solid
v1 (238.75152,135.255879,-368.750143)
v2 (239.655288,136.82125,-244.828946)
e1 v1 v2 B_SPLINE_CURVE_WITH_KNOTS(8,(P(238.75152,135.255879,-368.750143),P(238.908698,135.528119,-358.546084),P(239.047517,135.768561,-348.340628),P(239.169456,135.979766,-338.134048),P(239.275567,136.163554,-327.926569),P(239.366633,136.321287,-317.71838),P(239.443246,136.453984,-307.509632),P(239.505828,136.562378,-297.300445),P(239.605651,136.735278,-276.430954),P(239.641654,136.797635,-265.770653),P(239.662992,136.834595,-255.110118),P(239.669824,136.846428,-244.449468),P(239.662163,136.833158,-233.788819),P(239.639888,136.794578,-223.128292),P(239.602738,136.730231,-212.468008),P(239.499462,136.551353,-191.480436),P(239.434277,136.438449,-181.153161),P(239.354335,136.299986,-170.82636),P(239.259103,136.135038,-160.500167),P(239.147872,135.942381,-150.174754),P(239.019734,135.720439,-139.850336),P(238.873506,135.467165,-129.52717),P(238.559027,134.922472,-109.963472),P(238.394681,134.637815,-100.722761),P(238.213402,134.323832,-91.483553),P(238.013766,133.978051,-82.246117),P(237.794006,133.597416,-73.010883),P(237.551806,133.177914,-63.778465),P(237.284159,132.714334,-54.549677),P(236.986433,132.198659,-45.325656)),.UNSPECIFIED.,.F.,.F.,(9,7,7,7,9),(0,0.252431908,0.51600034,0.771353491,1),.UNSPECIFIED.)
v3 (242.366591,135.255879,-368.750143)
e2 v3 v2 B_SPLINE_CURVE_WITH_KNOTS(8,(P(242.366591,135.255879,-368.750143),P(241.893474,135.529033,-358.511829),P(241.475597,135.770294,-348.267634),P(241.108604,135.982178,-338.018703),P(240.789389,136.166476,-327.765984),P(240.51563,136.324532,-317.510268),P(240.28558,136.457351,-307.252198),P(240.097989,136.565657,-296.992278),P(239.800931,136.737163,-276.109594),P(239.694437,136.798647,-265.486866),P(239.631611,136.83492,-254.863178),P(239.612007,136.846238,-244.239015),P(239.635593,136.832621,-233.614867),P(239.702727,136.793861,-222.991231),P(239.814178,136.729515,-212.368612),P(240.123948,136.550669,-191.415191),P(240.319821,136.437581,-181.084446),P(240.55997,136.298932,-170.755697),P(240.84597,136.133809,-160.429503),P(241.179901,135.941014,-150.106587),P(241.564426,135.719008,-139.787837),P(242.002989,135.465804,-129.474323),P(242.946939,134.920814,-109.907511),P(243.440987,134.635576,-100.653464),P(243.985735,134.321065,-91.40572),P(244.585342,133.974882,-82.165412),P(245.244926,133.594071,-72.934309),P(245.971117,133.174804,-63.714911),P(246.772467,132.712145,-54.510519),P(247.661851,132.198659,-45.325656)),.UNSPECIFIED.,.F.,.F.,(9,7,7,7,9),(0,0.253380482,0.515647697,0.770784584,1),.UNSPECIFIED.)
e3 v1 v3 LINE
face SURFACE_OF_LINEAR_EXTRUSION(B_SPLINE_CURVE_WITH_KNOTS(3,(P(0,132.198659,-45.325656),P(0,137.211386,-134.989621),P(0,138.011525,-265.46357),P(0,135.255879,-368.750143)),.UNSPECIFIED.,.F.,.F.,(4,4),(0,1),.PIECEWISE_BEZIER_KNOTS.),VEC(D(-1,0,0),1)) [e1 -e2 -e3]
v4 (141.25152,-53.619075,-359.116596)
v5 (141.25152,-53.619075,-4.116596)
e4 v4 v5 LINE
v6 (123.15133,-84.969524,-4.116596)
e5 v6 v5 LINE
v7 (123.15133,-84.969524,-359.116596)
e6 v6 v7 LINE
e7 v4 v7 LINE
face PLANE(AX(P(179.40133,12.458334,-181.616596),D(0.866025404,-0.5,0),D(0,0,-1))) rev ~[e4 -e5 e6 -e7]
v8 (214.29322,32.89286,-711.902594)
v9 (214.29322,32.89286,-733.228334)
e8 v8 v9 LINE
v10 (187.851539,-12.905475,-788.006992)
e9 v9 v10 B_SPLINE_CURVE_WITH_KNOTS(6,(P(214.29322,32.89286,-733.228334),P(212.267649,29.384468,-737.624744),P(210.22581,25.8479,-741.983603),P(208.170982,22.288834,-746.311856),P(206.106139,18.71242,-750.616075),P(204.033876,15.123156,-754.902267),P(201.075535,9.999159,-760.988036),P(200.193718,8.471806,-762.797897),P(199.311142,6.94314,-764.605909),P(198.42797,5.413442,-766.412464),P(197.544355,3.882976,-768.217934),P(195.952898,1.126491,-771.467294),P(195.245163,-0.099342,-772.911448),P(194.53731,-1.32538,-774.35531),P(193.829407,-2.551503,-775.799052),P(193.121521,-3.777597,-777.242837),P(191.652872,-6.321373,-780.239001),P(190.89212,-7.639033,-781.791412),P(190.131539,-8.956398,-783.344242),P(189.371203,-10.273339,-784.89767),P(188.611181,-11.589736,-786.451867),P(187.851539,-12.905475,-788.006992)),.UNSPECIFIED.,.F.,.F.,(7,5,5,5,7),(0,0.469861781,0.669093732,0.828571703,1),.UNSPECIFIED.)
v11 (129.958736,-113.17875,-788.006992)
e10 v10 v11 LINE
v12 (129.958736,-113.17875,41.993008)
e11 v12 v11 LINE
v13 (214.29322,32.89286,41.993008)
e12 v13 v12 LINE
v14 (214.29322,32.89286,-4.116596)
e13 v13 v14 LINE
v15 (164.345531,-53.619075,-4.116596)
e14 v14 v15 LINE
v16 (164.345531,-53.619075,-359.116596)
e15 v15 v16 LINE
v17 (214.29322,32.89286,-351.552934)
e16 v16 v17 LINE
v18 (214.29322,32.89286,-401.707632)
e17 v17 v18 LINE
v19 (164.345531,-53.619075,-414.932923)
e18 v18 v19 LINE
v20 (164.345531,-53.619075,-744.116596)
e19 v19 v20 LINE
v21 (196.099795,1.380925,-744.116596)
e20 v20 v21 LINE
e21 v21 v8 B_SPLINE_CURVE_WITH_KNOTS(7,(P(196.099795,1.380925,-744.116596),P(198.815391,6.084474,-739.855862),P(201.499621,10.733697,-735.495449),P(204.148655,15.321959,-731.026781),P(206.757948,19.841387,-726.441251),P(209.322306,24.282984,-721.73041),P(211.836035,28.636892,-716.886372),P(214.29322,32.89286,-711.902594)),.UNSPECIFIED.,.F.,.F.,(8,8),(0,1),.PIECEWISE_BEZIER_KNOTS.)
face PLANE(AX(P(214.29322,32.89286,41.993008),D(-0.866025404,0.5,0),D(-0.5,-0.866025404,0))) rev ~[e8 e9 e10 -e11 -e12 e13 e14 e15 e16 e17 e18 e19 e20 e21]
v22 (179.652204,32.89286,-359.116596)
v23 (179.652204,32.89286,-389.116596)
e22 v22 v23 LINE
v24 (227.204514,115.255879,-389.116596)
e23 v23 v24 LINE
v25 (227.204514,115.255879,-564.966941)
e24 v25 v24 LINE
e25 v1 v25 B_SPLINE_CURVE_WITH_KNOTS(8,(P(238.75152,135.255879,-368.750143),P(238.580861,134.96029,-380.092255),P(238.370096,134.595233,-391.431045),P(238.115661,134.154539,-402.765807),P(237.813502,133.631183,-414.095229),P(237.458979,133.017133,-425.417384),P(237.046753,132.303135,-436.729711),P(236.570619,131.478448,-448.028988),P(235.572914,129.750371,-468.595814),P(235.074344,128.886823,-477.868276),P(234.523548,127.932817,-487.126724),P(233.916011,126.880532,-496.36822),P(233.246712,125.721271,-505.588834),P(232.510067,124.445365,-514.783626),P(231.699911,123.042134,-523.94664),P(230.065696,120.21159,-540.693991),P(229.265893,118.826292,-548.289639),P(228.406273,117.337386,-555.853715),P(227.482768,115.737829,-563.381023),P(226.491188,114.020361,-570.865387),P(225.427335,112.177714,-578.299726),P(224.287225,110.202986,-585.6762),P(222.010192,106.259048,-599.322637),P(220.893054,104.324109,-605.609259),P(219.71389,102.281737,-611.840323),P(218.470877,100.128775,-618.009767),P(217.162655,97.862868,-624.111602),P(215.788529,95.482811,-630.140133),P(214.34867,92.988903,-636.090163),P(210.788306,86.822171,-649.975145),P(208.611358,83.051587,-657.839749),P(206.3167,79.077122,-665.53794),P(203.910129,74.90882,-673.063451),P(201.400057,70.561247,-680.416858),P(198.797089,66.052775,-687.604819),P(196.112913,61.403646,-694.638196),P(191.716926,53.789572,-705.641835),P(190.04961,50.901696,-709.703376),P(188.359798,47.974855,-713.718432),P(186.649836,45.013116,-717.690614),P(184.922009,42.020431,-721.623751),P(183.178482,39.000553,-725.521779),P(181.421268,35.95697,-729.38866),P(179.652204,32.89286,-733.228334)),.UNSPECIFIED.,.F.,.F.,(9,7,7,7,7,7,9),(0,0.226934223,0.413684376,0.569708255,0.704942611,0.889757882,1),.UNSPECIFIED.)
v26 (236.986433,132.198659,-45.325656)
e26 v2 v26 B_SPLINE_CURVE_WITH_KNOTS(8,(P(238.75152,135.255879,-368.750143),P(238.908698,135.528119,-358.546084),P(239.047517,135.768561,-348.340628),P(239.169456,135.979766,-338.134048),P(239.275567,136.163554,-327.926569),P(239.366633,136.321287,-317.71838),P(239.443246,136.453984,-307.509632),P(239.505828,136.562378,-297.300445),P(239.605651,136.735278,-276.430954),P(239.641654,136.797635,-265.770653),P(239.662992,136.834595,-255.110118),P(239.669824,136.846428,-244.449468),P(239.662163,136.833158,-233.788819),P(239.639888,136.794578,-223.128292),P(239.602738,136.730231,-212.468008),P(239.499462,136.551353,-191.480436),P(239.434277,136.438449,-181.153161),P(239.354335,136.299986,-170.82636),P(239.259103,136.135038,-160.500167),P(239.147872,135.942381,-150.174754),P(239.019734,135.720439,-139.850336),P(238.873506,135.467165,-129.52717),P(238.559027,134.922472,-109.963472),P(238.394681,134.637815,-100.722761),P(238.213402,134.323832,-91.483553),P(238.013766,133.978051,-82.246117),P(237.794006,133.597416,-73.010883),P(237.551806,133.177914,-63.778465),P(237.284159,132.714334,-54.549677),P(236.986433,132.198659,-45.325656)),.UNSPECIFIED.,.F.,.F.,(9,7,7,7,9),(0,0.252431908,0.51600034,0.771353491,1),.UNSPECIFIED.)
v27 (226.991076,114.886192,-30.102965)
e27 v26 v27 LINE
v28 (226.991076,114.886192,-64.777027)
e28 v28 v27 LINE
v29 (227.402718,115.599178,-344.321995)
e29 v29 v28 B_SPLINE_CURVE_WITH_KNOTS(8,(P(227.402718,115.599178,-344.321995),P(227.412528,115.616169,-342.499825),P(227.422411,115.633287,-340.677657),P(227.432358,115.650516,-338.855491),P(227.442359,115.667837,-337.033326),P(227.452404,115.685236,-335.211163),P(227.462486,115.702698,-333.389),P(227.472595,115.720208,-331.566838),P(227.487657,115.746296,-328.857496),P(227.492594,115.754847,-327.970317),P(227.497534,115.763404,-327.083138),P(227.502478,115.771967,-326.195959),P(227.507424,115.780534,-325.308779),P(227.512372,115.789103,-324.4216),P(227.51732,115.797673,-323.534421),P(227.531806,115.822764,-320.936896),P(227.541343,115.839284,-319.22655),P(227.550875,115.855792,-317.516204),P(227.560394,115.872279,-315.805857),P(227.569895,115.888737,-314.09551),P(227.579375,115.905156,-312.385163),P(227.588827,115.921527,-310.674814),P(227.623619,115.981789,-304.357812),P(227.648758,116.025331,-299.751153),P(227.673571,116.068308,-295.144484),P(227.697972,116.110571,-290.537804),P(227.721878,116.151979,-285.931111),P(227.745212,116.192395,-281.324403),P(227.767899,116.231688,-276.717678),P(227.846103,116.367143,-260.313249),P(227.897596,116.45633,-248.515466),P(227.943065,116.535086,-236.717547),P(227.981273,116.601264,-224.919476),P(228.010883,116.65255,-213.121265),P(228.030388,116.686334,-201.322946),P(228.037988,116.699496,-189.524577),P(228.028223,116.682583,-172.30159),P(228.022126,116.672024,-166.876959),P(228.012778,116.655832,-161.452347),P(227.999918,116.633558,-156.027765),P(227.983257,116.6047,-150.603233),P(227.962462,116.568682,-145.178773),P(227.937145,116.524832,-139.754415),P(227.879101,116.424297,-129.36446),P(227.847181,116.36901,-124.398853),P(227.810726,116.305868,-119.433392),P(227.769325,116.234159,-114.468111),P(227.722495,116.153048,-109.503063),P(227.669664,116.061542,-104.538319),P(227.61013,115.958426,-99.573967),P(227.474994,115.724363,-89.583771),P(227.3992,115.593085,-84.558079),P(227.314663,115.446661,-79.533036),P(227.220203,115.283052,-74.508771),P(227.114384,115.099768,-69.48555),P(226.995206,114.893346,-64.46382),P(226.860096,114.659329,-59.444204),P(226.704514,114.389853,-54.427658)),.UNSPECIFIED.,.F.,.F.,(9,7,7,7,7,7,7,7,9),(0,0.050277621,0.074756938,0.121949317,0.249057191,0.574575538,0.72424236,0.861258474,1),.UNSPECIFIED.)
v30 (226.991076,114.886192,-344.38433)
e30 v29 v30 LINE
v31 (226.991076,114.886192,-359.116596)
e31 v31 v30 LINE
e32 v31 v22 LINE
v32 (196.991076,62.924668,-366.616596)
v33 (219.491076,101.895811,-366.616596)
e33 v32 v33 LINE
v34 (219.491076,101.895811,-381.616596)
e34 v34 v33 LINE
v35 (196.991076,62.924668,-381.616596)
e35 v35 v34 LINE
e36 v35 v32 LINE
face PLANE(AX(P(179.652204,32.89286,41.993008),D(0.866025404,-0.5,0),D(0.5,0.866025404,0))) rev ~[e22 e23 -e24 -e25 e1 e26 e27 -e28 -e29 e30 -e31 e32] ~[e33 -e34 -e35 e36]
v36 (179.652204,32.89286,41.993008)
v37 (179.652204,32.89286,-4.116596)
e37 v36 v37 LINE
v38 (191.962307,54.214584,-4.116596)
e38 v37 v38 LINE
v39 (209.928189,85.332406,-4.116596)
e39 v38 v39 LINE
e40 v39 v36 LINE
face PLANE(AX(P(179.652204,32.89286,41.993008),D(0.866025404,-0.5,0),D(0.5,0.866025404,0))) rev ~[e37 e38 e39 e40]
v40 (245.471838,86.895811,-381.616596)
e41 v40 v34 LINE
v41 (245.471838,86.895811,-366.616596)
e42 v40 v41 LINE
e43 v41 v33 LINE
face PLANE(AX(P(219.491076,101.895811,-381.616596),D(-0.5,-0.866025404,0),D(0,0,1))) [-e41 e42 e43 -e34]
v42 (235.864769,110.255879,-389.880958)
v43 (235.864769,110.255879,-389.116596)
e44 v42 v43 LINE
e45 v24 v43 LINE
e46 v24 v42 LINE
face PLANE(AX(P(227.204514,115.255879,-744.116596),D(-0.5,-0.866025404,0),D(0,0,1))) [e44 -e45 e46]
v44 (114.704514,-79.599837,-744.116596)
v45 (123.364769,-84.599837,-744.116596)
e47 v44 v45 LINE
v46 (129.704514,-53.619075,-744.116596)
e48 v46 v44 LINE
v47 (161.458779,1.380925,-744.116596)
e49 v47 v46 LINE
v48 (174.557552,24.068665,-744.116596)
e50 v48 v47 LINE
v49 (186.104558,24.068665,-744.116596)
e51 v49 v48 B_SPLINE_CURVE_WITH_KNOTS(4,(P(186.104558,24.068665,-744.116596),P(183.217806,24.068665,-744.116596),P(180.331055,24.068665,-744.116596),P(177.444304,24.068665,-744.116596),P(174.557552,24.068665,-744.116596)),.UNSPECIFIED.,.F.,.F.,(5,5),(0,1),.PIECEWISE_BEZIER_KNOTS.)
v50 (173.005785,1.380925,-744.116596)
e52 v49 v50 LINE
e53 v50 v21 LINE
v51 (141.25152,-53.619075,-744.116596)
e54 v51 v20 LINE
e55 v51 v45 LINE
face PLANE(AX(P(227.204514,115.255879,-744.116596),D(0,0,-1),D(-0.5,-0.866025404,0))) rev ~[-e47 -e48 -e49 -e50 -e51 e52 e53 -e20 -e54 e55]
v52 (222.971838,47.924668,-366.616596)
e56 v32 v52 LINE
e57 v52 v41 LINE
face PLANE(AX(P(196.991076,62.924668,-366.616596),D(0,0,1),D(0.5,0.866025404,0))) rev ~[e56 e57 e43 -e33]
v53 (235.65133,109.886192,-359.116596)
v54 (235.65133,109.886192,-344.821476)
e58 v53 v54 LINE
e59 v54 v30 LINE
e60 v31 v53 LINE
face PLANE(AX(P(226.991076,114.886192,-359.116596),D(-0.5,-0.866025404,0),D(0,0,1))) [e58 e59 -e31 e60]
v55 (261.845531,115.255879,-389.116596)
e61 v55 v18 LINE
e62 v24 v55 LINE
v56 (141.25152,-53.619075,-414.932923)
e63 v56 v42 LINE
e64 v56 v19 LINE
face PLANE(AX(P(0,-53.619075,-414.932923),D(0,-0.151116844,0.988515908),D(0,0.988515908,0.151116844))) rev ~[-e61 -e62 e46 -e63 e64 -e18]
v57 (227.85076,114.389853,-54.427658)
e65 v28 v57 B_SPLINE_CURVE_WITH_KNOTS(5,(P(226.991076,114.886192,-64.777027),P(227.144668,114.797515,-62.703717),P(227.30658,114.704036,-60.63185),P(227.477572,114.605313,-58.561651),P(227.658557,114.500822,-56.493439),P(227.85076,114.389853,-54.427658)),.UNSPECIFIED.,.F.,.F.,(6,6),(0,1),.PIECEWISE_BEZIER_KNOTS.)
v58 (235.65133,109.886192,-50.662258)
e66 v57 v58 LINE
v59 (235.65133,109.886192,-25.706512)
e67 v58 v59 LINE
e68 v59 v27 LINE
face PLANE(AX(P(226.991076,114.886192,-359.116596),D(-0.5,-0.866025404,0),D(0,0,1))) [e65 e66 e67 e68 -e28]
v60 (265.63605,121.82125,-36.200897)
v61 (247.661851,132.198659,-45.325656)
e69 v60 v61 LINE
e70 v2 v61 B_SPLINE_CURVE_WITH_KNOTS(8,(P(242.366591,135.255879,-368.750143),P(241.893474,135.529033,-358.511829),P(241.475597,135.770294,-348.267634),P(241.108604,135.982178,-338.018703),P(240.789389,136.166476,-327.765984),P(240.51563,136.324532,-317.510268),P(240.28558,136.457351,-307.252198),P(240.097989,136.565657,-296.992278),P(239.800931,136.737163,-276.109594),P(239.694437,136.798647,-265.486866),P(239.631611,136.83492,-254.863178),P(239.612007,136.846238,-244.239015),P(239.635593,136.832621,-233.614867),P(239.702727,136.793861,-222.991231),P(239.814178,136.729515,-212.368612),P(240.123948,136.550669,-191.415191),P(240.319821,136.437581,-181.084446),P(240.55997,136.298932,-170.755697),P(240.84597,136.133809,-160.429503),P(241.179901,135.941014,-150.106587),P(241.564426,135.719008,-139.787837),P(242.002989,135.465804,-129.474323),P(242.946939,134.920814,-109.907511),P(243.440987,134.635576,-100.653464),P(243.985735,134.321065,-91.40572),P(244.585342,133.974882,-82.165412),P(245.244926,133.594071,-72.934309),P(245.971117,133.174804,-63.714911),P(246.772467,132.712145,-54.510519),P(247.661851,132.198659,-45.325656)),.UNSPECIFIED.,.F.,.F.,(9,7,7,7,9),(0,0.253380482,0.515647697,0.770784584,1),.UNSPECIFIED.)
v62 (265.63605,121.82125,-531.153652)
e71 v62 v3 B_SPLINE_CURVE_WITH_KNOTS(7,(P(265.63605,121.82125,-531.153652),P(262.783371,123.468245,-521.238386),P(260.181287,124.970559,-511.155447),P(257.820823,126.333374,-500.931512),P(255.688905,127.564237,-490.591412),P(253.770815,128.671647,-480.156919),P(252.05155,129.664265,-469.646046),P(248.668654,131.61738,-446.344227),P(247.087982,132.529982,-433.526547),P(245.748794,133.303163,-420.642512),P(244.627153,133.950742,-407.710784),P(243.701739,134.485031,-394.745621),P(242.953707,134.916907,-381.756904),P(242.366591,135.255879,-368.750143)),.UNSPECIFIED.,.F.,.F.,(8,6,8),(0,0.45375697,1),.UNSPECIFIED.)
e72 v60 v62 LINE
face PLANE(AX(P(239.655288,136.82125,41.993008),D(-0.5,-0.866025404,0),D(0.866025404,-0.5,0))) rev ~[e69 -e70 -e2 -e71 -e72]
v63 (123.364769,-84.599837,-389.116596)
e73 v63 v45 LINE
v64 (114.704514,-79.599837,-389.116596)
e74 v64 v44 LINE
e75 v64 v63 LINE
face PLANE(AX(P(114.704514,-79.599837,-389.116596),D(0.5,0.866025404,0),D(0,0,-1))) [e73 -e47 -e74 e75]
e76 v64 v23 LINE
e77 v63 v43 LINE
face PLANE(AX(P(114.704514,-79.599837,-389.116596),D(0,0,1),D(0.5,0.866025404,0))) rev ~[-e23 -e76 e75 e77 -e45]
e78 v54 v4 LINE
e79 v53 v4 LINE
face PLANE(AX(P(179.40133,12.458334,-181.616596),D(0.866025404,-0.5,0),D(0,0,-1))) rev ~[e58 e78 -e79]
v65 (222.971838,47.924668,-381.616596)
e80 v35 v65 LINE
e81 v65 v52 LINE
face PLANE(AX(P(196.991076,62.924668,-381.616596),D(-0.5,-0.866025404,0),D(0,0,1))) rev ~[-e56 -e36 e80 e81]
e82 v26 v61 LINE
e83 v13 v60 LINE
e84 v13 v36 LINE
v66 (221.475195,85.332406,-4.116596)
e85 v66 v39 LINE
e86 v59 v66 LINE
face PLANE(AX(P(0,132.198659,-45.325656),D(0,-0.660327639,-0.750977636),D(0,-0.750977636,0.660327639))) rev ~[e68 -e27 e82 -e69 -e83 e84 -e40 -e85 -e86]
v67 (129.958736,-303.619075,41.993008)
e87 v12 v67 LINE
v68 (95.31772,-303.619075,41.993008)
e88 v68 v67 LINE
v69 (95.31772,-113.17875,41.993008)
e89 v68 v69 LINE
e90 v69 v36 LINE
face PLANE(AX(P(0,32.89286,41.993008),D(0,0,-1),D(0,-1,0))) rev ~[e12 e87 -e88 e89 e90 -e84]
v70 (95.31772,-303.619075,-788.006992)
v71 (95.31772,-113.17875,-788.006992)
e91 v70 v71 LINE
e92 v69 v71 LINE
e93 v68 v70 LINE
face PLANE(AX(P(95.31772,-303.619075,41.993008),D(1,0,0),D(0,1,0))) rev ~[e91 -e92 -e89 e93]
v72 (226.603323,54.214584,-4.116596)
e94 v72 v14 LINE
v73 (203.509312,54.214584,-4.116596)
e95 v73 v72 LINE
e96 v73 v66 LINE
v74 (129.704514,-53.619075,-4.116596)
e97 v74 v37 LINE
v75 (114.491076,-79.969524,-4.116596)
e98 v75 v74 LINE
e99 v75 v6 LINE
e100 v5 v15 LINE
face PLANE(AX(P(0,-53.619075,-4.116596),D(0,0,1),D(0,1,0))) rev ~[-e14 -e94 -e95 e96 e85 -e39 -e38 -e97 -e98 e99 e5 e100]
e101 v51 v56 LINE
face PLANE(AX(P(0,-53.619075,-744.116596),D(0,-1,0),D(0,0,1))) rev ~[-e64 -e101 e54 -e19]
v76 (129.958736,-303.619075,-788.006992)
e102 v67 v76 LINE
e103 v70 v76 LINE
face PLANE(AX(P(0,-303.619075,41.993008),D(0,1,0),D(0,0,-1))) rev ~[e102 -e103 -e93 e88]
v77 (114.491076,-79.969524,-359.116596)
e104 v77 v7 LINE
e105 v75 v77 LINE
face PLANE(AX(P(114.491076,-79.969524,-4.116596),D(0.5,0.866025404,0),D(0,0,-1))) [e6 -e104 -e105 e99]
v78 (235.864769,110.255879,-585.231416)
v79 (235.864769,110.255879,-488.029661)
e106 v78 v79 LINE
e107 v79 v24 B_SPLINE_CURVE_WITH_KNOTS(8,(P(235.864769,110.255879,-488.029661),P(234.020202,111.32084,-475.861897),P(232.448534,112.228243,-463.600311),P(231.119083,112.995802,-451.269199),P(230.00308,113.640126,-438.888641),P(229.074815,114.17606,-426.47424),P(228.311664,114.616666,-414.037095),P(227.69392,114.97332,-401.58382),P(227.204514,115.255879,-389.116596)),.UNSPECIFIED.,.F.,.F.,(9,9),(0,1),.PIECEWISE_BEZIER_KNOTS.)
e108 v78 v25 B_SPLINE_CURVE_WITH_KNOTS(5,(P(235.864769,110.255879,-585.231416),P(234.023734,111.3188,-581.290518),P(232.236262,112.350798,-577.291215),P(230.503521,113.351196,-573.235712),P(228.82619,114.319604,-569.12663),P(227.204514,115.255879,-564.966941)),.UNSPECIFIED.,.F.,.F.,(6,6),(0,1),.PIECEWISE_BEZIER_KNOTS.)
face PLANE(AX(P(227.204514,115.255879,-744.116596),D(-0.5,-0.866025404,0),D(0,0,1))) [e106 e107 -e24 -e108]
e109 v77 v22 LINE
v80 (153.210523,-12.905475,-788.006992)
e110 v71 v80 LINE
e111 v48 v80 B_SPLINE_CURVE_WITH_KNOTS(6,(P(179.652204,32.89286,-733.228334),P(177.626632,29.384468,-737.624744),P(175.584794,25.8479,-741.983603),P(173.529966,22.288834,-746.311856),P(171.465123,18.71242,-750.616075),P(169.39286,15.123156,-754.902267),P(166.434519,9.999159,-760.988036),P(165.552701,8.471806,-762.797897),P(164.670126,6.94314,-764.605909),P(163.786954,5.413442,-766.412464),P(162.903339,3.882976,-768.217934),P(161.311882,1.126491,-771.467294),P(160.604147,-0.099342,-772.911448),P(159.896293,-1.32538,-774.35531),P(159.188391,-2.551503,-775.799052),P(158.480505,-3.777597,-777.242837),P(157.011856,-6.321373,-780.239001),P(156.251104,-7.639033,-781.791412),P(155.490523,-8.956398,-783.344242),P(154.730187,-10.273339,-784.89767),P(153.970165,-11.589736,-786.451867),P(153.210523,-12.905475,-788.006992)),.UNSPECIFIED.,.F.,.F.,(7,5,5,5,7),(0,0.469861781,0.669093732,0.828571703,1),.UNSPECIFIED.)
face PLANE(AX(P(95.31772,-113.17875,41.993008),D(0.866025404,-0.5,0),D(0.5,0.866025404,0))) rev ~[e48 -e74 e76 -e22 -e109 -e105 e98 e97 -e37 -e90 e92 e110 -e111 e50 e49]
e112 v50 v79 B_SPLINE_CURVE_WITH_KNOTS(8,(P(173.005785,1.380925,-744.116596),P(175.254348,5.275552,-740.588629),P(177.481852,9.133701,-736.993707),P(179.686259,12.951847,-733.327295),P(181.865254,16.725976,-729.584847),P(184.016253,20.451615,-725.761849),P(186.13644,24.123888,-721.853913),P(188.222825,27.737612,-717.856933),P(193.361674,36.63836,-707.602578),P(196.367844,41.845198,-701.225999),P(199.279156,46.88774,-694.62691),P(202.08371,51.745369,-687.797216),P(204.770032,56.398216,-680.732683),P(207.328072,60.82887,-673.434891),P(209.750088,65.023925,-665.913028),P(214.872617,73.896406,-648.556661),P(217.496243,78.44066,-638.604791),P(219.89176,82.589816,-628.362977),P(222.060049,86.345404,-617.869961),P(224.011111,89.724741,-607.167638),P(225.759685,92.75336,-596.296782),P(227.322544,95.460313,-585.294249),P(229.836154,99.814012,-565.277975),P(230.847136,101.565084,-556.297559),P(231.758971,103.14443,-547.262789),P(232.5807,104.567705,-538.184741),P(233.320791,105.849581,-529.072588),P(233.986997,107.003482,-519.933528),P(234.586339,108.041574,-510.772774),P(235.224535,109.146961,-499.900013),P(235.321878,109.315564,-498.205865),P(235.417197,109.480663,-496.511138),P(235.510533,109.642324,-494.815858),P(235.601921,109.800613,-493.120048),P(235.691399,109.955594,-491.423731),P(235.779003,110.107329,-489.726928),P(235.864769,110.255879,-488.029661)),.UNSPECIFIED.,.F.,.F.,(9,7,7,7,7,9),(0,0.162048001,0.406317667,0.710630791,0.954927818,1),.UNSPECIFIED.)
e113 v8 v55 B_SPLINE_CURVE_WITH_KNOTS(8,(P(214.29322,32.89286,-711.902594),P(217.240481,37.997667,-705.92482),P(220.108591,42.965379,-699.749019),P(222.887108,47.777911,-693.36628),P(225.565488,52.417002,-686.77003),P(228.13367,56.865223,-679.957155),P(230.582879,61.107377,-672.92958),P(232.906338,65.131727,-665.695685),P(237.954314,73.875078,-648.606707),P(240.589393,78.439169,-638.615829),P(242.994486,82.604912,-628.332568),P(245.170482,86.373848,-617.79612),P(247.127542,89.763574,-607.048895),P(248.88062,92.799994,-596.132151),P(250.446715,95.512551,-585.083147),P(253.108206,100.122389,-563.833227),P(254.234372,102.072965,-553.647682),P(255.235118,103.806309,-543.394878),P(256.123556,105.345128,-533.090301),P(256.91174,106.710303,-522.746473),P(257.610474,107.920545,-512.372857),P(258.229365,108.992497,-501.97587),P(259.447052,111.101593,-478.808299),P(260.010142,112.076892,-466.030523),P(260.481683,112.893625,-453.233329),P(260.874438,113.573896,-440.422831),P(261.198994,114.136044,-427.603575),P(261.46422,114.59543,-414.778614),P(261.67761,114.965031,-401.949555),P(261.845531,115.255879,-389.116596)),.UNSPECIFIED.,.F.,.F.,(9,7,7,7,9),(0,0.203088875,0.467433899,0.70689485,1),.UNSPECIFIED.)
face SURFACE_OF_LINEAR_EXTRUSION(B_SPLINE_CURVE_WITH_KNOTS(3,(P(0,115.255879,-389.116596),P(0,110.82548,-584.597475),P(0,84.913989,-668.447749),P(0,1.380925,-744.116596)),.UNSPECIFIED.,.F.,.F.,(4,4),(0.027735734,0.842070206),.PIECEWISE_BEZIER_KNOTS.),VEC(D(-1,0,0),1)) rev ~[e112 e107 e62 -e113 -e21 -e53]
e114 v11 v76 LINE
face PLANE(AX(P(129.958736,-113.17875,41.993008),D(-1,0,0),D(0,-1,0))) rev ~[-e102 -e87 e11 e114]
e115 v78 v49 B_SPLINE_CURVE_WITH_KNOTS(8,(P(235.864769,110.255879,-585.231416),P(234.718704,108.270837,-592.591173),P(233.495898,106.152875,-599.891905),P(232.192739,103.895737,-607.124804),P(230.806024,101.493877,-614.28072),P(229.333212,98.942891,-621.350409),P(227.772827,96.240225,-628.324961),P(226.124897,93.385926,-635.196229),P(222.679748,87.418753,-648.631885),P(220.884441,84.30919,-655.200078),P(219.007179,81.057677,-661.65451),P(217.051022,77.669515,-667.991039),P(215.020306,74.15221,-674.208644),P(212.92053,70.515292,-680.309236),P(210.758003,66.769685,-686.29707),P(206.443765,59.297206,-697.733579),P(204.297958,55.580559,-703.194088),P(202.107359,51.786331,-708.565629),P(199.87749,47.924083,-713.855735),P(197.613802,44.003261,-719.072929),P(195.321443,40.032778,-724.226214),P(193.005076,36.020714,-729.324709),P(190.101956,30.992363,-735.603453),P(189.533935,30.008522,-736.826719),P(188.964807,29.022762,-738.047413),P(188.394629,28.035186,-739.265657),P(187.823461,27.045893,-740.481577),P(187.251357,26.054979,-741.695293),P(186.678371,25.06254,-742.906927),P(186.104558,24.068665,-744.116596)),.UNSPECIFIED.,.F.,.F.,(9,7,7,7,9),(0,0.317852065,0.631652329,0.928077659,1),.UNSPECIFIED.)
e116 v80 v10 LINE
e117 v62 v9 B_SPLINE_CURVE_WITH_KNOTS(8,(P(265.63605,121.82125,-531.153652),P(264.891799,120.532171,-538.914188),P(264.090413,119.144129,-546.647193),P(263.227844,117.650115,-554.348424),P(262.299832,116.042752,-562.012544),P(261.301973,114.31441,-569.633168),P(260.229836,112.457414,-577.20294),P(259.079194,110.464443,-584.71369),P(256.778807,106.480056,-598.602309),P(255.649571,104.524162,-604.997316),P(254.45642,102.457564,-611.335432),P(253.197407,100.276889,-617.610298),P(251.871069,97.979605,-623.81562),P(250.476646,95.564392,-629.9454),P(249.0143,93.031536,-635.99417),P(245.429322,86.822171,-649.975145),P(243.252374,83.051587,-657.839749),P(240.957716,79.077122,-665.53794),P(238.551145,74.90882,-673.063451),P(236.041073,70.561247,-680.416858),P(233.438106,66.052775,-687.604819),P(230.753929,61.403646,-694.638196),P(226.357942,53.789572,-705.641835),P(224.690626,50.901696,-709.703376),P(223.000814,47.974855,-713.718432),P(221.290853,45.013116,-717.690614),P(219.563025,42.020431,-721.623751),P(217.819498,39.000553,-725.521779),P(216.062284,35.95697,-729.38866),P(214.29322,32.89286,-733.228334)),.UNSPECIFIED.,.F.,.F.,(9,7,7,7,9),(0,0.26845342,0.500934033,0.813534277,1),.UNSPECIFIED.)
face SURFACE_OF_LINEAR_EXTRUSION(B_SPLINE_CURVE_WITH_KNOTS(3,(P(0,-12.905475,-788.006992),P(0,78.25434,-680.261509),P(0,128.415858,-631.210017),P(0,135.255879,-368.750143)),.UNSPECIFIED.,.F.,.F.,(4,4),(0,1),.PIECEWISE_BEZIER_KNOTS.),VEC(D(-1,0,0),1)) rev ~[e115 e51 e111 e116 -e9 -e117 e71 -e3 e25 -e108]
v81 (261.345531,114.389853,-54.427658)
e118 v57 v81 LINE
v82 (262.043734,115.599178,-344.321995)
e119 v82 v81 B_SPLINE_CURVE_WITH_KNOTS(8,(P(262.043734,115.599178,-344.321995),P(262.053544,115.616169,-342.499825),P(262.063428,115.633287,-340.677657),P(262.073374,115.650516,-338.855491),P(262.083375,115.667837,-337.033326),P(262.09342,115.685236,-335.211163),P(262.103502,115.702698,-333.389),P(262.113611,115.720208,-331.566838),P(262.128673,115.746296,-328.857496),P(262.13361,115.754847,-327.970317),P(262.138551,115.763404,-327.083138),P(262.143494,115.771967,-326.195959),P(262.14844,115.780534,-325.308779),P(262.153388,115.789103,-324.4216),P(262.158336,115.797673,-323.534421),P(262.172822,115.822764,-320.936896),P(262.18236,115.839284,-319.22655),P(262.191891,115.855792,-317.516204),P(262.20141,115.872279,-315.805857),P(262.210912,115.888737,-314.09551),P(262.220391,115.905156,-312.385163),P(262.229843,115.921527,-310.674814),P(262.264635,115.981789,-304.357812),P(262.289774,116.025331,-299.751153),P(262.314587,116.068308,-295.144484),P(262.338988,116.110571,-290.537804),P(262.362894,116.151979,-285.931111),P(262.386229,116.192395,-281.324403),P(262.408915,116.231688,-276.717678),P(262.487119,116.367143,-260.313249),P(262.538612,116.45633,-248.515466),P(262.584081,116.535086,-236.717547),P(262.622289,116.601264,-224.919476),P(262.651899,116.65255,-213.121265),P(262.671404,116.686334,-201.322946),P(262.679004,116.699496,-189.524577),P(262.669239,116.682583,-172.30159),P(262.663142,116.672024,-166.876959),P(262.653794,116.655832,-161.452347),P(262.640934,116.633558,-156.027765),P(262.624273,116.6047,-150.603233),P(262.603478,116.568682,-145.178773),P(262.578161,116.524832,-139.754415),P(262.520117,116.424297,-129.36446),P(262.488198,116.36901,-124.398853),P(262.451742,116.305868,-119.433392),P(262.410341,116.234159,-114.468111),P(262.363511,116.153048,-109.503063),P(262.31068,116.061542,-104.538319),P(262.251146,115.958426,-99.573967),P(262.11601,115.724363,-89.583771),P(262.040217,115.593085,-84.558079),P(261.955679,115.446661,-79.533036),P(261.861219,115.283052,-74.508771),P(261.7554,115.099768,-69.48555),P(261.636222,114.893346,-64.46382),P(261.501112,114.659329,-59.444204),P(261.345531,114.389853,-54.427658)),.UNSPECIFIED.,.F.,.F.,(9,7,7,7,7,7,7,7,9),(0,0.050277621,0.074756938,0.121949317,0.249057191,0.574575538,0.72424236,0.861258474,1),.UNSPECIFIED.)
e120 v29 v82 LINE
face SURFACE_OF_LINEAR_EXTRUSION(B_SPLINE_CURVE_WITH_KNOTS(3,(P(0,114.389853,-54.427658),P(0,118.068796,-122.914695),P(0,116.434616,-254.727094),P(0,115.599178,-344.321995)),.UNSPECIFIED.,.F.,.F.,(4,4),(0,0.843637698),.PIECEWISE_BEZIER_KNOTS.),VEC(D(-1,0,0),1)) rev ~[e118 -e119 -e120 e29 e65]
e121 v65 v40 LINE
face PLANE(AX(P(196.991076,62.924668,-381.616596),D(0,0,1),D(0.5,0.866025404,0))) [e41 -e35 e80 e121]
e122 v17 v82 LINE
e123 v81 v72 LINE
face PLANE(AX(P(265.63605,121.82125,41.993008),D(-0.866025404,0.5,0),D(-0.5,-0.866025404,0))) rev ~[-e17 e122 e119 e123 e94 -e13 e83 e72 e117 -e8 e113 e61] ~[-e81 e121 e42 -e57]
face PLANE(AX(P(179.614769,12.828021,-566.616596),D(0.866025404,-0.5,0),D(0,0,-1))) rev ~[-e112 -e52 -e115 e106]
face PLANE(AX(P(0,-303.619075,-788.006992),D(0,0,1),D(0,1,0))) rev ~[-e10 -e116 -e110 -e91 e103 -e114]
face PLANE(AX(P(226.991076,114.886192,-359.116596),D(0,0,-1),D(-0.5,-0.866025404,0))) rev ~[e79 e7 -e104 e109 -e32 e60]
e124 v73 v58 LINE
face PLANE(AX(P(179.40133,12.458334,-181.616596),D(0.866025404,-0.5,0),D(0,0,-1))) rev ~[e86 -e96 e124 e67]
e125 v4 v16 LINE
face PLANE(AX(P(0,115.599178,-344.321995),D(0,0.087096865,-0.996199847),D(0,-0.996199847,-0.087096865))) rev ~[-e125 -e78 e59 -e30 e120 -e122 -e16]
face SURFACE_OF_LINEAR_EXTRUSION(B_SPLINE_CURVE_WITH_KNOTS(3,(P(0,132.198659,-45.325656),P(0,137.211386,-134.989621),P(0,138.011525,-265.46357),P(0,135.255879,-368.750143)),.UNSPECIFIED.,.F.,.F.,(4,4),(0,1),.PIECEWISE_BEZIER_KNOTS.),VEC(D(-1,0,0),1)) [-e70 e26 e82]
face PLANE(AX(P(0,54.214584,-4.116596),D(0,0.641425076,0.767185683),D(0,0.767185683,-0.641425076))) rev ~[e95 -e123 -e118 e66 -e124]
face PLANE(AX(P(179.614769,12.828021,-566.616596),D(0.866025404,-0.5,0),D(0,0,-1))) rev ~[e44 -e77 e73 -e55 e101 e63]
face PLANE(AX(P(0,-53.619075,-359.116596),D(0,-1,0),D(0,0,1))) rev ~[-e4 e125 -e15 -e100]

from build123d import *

# Parameters (mm, degrees)
EXTRUDE_1_DEPTH          = 300
CUT_EXTRUDE_1_DEPTH      = 1.0000001
CUT_EXTRUDE_1_DEPTH_BACK = 831.0000001
SKETCH_4_W               = 15
SKETCH_4_H               = 45
CUT_EXTRUDE_2_DEPTH      = 243.720162759
SKETCH_4_3_W             = 15
SKETCH_4_3_H             = 45
CUT_EXTRUDE_3_DEPTH      = 10


with BuildPart() as part:
    # 스케치1 → 보스-돌출1 (new body)
    with BuildSketch(Plane(origin=(0, 0, 0), x_dir=(0, 0, -1), z_dir=(1, 0, 0))):
        with BuildLine():
            Line((-41.993007726, 32.892860384), (-41.993007726, -303.619075042))
            Line((-41.993007726, -303.619075042), (788.006992274, -303.619075042))
            Line((788.006992274, -303.619075042), (788.006992274, -12.90547458))
            add(Edge.make_bspline(
                [(788.006992274, -12.90547458), (680.261509472, 78.254339674), (631.210016853, 128.415858034), (368.750142796, 135.255878696)],
                knots=[0, 0, 0, 0, 1, 1, 1, 1], degree=3))
            add(Edge.make_bspline(
                [(45.325655749, 132.198658827), (134.989620851, 137.211386353), (265.463569923, 138.011524869), (368.750142796, 135.255878696)],
                knots=[0, 0, 0, 0, 1, 1, 1, 1], degree=3))
            Line((45.325655749, 132.198658827), (-41.993007726, 32.892860384))
        make_face()
        with BuildLine():
            Line((4.116595834, 54.214584045), (54.427658026, 114.389853292))
            add(Edge.make_bspline(
                [(54.427658026, 114.389853292), (122.914694658, 118.068796405), (254.727094278, 116.434615788), (344.321994749, 115.599177573)],
                knots=[0, 0, 0, 0, 0.843637698, 0.843637698, 0.843637698, 0.843637698], degree=3))
            Line((344.321994749, 115.599177573), (359.116595834, -53.619075042))
            Line((359.116595834, -53.619075042), (4.116595834, -53.619075042))
            Line((4.116595834, -53.619075042), (4.116595834, 54.214584045))
        make_face(mode=Mode.SUBTRACT)
        with BuildLine():
            Line((414.932922958, -53.619075042), (389.116595834, 115.255878696))
            add(Edge.make_bspline(
                [(389.116595834, 115.255878696), (584.597474826, 110.825479528), (668.447748965, 84.913988672), (744.116595834, 1.380924958)],
                knots=[0.027735734, 0.027735734, 0.027735734, 0.027735734, 0.842070206, 0.842070206, 0.842070206, 0.842070206], degree=3))
            Line((744.116595834, 1.380924958), (744.116595834, -53.619075042))
            Line((744.116595834, -53.619075042), (414.932922958, -53.619075042))
        make_face(mode=Mode.SUBTRACT)
    extrude(amount=EXTRUDE_1_DEPTH)

    # 스케치2 → 컷-돌출1 (cut, two sides)
    with BuildSketch(Plane.XY.offset(41.993007726)) as cut_extrude_1_sk:
        Polygon((179.652203691, 32.892860384), (239.655287588, 136.821250303), (265.636049701, 121.821250303), (214.293219842, 32.892860384), (300, 32.892860384), (300, -303.619075042), (341.364714008, -303.619075042), (341.364714008, 251.457374482), (0, 251.457374482), (0, 32.892860384), align=None)
        Polygon((95.31772029, -113.178749697), (179.652203691, 32.892860384), (0, 32.892860384), (0, -303.619075042), (95.31772029, -303.619075042), align=None)
        Polygon((300, 32.892860384), (214.293219842, 32.892860384), (129.958736441, -113.178749697), (129.958736441, -303.619075042), (300, -303.619075042), align=None)
    extrude(amount=CUT_EXTRUDE_1_DEPTH, mode=Mode.SUBTRACT)
    extrude(cut_extrude_1_sk.sketch, amount=-CUT_EXTRUDE_1_DEPTH_BACK, mode=Mode.SUBTRACT)

    # 스케치4 → 컷-돌출2 (cut, through all)
    with BuildSketch(Plane(origin=(120.496126421, -69.568471025, 0), x_dir=(0, 0, 1), z_dir=(-0.866025404, 0.5, 0))):
        with Locations((-374.116595834, 175.489898801)):
            Rectangle(SKETCH_4_W, SKETCH_4_H)
    extrude(amount=-CUT_EXTRUDE_2_DEPTH, mode=Mode.SUBTRACT)

    # 스케치4<3> → 컷-돌출3 (cut)
    with BuildSketch(Plane(origin=(120.496126421, -69.568471025, 0), x_dir=(0, 0, 1), z_dir=(-0.866025404, 0.5, 0))):
        Polygon((-744.116595834, 18.416776129), (-744.116595834, 213.416776129), (-389.116595834, 213.416776129), (-389.116595834, 17.989898801), (-389.116595834, -11.583223871), (-744.116595834, -11.583223871), align=None)
        Polygon((-359.116595834, 18.416776129), (-359.116595834, 212.989898801), (-4.116595834, 212.989898801), (-4.116595834, 17.989898801), (-4.116595834, -12.010101199), (-359.116595834, -12.010101199), align=None)
        with Locations((-374.116595834, 175.489898801)):
            Rectangle(SKETCH_4_3_W, SKETCH_4_3_H)
    extrude(amount=-CUT_EXTRUDE_3_DEPTH, mode=Mode.SUBTRACT)


solid = part.part
